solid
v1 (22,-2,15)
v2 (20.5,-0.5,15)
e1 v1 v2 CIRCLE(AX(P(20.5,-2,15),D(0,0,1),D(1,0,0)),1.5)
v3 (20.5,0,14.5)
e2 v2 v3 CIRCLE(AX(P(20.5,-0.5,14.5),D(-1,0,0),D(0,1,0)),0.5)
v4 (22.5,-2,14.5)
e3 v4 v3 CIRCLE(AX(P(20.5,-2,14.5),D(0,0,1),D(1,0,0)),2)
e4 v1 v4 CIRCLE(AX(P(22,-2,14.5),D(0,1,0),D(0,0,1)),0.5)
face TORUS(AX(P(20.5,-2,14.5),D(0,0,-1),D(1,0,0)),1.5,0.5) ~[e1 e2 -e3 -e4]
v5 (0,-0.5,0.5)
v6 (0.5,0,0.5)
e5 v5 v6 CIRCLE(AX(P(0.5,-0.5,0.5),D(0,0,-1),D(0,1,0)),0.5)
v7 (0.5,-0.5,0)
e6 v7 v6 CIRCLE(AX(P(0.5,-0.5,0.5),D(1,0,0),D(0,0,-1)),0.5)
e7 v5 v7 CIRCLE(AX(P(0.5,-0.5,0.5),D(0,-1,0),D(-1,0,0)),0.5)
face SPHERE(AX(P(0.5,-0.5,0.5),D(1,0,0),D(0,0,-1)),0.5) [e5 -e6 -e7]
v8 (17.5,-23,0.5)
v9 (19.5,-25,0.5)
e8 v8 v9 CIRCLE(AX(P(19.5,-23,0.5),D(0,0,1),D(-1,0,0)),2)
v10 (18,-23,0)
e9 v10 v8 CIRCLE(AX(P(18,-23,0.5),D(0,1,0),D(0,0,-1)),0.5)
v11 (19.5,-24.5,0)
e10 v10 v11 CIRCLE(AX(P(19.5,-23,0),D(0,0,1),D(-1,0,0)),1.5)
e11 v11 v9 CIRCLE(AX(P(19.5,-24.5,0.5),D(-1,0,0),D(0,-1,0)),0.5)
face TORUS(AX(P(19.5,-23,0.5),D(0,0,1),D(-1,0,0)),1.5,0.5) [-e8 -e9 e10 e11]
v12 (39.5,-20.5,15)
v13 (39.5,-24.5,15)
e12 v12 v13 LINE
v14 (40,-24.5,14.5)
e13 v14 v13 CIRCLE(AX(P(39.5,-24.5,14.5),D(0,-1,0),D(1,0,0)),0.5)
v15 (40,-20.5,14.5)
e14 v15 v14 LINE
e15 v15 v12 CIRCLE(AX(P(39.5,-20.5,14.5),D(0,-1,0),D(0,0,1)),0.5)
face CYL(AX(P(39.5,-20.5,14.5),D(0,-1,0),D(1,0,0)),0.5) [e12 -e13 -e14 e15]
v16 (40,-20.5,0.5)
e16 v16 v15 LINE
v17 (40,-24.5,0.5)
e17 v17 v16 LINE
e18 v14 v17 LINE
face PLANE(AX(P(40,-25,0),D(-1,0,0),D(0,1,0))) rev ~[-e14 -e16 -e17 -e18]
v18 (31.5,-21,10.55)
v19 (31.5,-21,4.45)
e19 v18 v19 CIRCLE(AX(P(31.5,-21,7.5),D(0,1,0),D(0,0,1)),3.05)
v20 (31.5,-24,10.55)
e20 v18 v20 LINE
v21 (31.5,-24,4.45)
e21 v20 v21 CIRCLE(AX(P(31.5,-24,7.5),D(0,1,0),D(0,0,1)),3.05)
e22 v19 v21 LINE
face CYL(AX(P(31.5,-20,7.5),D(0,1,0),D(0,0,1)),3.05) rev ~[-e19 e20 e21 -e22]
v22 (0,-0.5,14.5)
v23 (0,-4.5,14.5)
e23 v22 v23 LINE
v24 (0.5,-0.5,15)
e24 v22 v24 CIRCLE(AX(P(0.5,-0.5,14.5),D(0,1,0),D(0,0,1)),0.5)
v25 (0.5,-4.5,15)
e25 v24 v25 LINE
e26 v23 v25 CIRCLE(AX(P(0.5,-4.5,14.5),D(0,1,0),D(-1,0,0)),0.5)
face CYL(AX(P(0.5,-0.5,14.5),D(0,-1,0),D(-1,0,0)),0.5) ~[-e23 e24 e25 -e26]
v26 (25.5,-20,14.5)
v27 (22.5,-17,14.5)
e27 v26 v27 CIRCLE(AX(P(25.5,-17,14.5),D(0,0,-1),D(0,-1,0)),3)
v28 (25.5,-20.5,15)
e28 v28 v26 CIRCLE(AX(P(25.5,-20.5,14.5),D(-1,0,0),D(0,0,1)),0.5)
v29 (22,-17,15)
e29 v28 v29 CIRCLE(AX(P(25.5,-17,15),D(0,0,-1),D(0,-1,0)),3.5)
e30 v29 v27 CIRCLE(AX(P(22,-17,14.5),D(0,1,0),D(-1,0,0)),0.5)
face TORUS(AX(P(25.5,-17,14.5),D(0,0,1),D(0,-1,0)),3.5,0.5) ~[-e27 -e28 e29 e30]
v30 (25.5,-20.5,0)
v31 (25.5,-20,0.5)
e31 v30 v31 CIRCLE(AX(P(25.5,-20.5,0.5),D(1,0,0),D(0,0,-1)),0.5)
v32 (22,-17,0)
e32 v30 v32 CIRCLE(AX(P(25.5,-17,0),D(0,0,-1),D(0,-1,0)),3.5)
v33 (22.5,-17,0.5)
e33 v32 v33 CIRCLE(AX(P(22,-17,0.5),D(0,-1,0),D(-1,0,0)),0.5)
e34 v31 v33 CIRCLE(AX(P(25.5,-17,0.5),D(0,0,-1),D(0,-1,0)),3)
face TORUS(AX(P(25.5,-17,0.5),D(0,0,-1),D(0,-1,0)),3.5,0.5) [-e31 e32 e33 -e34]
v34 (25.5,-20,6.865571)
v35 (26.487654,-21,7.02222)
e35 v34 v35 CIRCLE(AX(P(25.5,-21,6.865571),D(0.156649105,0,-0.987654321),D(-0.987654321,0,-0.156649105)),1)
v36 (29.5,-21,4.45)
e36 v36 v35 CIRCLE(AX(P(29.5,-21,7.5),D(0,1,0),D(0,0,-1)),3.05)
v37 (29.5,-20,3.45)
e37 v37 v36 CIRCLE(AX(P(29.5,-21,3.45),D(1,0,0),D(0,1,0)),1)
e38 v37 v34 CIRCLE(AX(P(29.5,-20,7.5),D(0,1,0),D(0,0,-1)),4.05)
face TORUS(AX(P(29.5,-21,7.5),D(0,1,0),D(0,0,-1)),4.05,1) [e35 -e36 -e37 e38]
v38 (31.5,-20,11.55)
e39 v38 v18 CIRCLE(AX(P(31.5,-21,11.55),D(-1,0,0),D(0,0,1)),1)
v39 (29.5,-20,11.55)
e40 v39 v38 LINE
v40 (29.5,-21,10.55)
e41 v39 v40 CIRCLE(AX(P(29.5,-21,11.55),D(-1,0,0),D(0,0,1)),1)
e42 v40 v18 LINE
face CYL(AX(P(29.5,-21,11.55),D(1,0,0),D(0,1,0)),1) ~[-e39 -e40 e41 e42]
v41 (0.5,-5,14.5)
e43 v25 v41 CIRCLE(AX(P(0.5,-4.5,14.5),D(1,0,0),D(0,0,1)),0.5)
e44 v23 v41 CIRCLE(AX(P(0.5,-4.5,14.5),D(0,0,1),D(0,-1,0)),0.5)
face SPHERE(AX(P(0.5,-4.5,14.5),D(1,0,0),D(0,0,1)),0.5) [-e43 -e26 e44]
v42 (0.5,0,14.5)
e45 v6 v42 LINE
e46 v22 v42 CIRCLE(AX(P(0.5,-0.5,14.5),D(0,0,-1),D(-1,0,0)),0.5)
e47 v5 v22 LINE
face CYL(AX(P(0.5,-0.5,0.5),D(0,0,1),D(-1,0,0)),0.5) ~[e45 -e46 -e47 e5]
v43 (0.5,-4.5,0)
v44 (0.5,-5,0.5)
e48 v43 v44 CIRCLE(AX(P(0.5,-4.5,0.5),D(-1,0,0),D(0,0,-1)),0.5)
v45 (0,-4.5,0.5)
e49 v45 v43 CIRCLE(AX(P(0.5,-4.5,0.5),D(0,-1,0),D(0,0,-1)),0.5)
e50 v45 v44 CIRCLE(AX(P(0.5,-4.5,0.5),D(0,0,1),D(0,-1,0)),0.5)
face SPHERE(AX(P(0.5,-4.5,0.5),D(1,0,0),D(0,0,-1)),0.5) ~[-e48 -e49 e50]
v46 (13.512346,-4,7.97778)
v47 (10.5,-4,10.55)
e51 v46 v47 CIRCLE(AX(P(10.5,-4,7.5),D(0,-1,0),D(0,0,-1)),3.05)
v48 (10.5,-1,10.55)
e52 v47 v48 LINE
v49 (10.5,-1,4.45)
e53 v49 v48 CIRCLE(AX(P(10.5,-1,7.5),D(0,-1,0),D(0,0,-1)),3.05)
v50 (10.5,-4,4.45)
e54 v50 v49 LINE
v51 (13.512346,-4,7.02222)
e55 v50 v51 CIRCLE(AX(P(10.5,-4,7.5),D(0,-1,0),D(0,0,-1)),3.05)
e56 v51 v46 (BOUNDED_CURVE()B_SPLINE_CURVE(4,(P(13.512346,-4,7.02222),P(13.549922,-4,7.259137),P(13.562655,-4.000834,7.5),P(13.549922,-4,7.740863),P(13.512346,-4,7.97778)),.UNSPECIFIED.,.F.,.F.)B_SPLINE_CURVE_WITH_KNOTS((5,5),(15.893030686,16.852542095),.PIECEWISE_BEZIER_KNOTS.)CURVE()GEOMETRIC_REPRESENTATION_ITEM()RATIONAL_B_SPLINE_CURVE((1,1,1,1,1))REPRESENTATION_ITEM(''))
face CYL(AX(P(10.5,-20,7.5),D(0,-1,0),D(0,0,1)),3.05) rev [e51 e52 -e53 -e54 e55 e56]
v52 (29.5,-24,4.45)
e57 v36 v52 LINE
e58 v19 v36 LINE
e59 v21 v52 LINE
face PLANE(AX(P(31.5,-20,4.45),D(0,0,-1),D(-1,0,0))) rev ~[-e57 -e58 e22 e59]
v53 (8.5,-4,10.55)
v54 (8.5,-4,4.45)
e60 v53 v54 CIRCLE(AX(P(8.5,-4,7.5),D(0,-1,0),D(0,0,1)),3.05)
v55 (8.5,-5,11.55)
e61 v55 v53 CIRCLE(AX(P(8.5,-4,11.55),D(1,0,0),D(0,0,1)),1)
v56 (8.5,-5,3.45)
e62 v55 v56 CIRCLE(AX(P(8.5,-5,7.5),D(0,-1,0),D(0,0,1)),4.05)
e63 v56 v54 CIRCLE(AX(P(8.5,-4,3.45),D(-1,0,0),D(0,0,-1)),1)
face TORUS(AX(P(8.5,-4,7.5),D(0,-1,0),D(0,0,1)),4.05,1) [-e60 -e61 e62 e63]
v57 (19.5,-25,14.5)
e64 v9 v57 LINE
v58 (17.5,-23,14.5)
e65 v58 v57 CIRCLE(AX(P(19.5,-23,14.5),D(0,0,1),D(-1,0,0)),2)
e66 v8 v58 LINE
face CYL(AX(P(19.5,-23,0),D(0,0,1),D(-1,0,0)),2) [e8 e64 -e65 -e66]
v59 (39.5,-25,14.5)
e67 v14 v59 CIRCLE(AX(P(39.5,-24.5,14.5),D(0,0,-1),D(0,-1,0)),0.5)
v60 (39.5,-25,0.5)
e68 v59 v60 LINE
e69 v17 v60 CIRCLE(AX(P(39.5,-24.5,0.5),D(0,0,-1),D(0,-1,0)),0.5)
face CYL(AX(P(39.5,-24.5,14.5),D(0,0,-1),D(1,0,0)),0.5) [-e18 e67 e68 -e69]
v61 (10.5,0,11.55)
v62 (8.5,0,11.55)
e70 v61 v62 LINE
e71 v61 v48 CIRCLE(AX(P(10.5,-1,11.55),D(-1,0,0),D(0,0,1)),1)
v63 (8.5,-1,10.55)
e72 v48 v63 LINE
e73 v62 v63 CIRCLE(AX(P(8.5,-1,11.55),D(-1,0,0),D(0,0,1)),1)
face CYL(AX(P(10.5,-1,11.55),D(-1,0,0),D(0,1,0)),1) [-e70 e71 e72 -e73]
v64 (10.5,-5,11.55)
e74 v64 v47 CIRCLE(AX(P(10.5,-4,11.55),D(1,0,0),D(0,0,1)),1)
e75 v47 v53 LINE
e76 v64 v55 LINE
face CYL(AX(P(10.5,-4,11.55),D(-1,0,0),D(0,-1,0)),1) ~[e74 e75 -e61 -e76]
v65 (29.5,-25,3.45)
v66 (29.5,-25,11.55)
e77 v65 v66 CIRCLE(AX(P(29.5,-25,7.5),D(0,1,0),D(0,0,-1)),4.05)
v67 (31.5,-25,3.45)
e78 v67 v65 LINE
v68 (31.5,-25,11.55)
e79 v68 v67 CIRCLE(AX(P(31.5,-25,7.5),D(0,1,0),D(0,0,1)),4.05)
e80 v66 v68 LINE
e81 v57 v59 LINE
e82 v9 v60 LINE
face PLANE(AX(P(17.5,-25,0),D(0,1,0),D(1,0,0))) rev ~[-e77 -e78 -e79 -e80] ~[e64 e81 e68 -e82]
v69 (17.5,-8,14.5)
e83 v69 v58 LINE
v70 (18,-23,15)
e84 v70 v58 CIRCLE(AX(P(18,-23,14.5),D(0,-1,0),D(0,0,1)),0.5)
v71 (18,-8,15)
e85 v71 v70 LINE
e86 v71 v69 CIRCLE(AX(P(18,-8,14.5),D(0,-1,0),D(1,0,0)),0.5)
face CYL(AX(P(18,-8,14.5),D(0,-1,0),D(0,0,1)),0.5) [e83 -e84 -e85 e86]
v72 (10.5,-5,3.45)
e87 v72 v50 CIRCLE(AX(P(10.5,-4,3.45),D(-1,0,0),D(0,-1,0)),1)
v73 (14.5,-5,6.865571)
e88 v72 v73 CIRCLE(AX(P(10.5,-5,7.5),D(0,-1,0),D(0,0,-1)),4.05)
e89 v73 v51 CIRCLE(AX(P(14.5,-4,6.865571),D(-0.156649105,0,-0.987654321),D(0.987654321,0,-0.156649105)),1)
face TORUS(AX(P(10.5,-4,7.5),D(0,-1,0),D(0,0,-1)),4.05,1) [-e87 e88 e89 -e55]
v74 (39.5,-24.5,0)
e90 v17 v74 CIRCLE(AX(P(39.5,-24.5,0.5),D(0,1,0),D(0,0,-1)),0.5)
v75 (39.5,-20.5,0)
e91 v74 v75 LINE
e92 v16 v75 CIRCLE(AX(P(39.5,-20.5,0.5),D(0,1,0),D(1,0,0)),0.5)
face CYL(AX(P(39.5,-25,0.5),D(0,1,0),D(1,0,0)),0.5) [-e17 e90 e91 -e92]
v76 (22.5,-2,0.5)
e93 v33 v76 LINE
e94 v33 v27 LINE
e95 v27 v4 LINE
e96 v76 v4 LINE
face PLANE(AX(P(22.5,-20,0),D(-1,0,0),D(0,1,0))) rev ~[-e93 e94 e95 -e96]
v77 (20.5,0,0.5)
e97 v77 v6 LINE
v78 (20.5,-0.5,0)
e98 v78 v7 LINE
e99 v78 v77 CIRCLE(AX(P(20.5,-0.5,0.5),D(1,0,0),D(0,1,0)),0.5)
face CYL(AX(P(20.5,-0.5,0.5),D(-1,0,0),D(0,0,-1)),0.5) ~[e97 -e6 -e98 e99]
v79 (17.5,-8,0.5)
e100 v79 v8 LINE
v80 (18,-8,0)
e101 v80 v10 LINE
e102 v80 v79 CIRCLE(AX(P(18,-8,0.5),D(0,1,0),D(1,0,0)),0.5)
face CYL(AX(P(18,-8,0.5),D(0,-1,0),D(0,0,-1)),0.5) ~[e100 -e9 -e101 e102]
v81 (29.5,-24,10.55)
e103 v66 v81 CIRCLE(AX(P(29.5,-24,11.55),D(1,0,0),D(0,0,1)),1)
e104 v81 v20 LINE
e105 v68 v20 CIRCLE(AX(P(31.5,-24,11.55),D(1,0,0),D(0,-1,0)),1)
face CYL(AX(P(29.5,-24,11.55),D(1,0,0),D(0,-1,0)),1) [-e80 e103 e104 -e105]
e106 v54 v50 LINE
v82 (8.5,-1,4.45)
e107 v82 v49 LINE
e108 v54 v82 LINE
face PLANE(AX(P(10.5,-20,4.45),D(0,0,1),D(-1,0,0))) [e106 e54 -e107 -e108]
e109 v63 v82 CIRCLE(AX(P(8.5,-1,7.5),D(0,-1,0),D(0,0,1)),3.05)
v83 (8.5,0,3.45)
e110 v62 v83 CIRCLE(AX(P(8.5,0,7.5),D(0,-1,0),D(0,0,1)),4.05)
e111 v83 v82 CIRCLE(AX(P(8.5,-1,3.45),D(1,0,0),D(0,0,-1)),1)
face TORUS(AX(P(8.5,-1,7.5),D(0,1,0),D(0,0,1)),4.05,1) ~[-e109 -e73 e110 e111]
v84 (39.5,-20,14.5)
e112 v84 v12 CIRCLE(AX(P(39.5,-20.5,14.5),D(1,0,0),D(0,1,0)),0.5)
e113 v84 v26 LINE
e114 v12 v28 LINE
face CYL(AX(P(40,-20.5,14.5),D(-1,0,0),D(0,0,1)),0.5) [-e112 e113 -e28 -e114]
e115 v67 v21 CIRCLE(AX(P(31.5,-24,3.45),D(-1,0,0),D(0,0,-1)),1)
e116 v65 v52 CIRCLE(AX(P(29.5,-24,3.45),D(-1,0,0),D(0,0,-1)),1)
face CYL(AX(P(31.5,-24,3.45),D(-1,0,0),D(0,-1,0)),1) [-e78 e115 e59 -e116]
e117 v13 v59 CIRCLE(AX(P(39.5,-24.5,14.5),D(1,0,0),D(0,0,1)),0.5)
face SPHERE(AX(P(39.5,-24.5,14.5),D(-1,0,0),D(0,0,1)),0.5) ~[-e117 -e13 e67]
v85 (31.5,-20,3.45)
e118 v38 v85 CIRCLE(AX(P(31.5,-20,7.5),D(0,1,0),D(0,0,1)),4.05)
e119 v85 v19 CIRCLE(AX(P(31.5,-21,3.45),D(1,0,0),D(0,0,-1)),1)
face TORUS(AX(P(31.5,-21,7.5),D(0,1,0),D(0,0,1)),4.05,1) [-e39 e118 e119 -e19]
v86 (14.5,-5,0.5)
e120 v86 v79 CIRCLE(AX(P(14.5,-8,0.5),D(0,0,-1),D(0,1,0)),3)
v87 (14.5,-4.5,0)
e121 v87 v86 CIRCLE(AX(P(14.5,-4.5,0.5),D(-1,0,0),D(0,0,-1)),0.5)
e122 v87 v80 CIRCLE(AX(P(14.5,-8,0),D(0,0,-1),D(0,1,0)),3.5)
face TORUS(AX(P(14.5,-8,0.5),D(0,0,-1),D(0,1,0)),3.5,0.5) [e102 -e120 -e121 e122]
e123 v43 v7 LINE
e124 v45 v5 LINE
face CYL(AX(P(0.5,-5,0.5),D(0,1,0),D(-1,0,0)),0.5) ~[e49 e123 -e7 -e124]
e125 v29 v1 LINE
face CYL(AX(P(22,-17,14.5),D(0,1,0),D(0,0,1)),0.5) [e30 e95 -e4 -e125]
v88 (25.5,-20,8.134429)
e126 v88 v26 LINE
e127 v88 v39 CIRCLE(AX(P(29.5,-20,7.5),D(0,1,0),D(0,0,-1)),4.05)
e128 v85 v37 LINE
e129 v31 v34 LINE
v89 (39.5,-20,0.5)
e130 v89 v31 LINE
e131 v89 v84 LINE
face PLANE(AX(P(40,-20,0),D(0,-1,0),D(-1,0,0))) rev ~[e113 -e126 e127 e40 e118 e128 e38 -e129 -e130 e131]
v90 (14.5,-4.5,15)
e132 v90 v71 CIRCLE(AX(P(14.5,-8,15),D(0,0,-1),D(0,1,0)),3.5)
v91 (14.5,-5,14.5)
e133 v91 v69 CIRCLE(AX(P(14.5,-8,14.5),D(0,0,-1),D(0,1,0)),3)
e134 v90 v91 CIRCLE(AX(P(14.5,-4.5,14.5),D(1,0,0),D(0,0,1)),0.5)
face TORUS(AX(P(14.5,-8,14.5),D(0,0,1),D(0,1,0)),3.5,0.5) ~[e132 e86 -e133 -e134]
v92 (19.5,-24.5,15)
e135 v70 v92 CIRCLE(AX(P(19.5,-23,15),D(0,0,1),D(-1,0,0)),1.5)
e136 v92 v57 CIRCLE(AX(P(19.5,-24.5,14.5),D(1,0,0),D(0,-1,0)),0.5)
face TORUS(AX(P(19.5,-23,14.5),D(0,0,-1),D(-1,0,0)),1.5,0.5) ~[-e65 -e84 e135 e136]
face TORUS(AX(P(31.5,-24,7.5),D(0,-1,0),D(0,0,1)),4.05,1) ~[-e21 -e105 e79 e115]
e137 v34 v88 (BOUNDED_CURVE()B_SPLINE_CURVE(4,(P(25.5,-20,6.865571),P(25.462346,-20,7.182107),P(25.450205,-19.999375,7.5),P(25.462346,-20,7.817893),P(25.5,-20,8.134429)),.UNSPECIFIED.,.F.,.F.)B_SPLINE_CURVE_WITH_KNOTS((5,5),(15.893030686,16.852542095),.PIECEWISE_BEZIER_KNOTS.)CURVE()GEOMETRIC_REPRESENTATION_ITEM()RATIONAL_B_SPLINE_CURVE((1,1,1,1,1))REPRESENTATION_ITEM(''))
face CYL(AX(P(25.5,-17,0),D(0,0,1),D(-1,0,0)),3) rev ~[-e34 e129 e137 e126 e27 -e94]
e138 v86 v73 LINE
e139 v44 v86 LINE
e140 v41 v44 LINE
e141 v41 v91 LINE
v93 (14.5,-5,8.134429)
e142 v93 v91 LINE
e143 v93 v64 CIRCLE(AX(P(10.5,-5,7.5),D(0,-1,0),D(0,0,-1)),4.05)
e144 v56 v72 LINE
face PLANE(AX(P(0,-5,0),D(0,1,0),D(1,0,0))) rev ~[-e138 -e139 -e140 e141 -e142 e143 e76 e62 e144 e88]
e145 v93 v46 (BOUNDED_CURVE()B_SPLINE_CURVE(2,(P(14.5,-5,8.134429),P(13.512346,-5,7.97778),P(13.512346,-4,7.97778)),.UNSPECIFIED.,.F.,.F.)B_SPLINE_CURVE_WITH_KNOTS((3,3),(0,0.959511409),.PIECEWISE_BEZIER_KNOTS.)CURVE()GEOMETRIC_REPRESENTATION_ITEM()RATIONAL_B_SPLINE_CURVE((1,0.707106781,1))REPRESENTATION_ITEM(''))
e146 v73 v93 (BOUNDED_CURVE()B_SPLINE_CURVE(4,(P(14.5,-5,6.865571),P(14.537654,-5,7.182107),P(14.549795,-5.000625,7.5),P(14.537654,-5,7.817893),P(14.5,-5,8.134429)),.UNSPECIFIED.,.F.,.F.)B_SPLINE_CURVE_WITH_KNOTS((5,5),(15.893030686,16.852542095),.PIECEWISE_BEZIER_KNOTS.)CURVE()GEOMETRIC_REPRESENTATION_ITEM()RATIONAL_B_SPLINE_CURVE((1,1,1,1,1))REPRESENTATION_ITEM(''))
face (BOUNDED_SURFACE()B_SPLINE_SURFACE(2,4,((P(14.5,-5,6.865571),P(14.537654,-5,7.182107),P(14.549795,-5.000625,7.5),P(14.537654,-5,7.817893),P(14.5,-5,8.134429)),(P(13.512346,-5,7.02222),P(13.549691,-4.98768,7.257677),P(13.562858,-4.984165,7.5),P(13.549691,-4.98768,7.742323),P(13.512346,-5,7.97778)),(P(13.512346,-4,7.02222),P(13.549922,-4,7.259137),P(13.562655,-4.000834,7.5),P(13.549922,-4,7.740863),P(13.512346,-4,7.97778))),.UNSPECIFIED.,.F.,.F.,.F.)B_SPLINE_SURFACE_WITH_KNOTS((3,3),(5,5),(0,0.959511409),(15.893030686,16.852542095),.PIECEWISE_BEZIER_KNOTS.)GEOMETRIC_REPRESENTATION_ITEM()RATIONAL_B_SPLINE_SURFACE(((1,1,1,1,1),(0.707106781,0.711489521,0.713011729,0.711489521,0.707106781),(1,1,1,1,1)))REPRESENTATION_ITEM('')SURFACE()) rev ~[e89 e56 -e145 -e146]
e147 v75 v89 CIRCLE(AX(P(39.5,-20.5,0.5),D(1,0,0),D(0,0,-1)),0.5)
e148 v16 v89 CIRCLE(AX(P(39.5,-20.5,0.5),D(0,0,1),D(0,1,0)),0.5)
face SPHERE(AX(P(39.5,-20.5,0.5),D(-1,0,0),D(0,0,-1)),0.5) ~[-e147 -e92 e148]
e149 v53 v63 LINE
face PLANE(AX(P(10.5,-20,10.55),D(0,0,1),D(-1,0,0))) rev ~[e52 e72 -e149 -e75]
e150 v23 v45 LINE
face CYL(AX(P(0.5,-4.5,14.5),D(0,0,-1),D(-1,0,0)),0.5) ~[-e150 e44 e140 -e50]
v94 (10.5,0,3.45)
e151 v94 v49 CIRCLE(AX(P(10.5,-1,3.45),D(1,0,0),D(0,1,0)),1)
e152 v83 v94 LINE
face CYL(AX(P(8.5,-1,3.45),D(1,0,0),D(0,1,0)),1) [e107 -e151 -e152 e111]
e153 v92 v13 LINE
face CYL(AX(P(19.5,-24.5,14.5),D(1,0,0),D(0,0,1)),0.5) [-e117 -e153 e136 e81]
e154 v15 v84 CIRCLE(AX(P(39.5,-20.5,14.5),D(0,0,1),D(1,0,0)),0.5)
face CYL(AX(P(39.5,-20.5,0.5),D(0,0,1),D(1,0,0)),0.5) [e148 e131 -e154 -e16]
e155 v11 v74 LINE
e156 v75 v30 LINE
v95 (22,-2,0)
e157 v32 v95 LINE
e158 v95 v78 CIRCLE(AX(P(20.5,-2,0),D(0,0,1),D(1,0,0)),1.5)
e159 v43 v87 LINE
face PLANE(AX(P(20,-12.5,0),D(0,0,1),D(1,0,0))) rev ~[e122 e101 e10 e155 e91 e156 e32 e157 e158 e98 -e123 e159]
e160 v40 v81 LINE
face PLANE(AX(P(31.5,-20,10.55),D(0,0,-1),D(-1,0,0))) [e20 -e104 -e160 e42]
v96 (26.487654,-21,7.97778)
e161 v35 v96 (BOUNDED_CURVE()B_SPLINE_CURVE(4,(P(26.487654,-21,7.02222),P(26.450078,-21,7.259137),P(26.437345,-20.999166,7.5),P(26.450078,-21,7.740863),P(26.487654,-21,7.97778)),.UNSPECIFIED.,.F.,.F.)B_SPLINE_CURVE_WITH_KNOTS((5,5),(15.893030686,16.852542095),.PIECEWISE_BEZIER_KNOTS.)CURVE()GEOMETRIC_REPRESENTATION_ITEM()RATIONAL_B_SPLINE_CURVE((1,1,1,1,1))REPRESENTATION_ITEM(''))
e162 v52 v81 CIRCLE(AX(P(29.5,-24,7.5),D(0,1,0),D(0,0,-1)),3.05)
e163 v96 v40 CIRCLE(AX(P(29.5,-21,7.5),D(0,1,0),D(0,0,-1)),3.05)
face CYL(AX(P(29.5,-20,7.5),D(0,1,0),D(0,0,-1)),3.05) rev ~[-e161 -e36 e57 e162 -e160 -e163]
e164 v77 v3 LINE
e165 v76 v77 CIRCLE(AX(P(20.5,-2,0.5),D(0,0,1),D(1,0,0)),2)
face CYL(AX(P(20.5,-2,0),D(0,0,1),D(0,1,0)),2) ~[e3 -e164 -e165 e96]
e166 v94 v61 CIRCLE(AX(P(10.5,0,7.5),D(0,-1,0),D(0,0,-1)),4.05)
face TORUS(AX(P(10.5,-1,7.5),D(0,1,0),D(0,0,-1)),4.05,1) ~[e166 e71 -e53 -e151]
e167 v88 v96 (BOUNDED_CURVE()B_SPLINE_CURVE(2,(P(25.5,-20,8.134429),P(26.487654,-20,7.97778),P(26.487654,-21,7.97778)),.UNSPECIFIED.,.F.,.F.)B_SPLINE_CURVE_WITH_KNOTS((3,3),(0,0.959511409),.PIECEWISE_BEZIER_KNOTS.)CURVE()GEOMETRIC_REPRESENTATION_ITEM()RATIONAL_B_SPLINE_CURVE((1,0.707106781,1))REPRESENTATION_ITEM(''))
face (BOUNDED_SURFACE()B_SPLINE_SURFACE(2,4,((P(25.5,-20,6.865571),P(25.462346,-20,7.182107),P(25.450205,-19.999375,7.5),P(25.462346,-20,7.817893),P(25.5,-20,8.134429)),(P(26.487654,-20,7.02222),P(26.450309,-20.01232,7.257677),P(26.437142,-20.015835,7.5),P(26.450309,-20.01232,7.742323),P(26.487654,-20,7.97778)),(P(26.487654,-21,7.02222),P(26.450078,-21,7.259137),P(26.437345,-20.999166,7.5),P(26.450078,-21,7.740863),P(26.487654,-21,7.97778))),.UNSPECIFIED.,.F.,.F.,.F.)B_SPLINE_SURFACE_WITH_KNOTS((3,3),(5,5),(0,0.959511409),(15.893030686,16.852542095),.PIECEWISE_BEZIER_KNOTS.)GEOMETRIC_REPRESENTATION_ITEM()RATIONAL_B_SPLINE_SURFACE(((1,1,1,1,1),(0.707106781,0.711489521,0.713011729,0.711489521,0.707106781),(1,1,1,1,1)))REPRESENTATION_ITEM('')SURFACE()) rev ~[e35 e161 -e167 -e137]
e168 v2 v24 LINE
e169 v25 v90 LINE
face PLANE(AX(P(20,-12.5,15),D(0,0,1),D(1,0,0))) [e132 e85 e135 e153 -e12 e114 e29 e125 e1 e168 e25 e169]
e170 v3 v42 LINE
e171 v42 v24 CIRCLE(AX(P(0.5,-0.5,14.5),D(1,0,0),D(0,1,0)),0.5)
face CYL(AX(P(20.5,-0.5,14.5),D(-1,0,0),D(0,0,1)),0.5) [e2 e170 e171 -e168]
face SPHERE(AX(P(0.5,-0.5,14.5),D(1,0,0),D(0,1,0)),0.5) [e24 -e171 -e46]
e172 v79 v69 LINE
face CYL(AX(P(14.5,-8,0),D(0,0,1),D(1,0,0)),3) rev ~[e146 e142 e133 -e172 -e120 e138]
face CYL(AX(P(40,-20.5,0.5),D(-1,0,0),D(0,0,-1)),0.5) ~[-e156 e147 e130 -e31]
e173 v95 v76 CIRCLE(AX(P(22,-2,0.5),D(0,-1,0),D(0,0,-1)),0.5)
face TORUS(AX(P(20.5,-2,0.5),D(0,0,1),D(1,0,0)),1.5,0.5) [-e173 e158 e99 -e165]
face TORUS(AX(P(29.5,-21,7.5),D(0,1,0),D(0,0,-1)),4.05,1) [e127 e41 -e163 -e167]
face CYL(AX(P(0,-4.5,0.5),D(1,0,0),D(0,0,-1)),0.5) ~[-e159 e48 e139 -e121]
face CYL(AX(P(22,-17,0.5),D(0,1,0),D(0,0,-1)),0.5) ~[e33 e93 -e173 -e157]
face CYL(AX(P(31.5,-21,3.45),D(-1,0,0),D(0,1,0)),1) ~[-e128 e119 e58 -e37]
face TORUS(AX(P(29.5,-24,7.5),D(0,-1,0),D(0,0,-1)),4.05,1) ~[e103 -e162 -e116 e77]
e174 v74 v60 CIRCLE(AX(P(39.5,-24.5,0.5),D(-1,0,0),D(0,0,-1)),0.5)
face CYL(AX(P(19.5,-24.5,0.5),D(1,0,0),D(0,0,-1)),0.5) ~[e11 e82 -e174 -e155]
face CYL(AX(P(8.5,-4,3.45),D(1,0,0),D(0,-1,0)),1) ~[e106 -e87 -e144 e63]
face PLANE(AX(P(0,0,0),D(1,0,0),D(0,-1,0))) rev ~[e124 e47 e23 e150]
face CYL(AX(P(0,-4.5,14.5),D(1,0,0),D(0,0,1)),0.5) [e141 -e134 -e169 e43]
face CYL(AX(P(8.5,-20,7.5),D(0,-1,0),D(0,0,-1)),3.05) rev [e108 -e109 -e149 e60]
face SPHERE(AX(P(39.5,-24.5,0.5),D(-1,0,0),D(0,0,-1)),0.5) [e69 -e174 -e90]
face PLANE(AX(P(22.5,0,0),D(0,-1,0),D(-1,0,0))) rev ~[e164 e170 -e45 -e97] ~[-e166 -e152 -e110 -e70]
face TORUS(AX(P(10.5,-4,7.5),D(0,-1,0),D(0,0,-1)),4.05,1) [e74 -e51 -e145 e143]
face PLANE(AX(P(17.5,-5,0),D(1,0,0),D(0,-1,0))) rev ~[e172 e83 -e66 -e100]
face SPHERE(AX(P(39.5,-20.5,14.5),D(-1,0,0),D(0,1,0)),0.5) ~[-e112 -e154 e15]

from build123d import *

# Parameters (mm, degrees)
F1_DEPTH      = 15
F2_W          = 2
F2_H          = 6.1
F3_DEPTH      = 20.001
F3_DEPTH_BACK = 5.001
F4_R          = 3
F5_R          = 3
F6_R          = 2
F7_R          = 2
F8_R          = 1
F9_R          = 1
F10_R         = 1
F11_R         = 1
F12_R         = 0.5
F13_R         = 0.5
F14_R         = 0.5
F15_R         = 0.5


with BuildPart() as f1:
    # F0 (on Top) → F1 (new body)
    with BuildSketch(Plane.XY):
        Polygon((22.5, 0), (0, 0), (0, -5), (17.5, -5), (17.5, -25), (40, -25), (40, -20), (22.5, -20), align=None)
    extrude(amount=F1_DEPTH)

    # F2 (on face) → F3 (cut, two sides)
    with BuildSketch(Plane(origin=(0, -20, 0), x_dir=(-1, 0, 0), z_dir=(0, 1, 0))) as f3_sk:
        with Locations((-30.5, 7.5)):
            Rectangle(F2_W, F2_H)
        with BuildLine():
            ThreePointArc((-29.5, 4.45), (-26.45, 7.5), (-29.5, 10.55))
            Line((-29.5, 10.55), (-29.5, 4.45))
        make_face()
        with BuildLine():
            Line((-31.5, 4.45), (-31.5, 10.55))
            ThreePointArc((-31.5, 10.55), (-34.55, 7.5), (-31.5, 4.45))
        make_face()
        with BuildLine():
            ThreePointArc((-10.5, 10.55), (-13.55, 7.5), (-10.5, 4.45))
            Line((-10.5, 4.45), (-10.5, 10.55))
        make_face()
        with Locations((-9.5, 7.5)):
            Rectangle(F2_W, F2_H)
        with BuildLine():
            Line((-8.5, 10.55), (-8.5, 4.45))
            ThreePointArc((-8.5, 4.45), (-5.45, 7.5), (-8.5, 10.55))
        make_face()
    extrude(amount=F3_DEPTH, mode=Mode.SUBTRACT)
    extrude(f3_sk.sketch, amount=-F3_DEPTH_BACK, mode=Mode.SUBTRACT)

    # F4
    f4_edges = [f1.edges().sort_by_distance(p)[0] for p in [
        (22.5, -20, 7.5),
    ]]
    fillet(f4_edges, radius=F4_R)

    # F5
    f5_edges = [f1.edges().sort_by_distance(p)[0] for p in [
        (17.5, -5, 7.5),
    ]]
    fillet(f5_edges, radius=F5_R)

    # F6
    f6_edges = [f1.edges().sort_by_distance(p)[0] for p in [
        (22.5, 0, 7.5),
    ]]
    fillet(f6_edges, radius=F6_R)

    # F7
    f7_edges = [f1.edges().sort_by_distance(p)[0] for p in [
        (17.5, -25, 7.5),
    ]]
    fillet(f7_edges, radius=F7_R)

    # F8
    f8_edges = [f1.edges().sort_by_distance(p)[0] for p in [
        (5.45, 0, 7.5),
    ]]
    fillet(f8_edges, radius=F8_R)

    # F9
    f9_edges = [f1.edges().sort_by_distance(p)[0] for p in [
        (34.55, -20, 7.5),
    ]]
    fillet(f9_edges, radius=F9_R)

    # F10
    f10_edges = [f1.edges().sort_by_distance(p)[0] for p in [
        (5.45, -5, 7.5),
    ]]
    fillet(f10_edges, radius=F10_R)

    # F11
    f11_edges = [f1.edges().sort_by_distance(p)[0] for p in [
        (26.45, -25, 7.5),
    ]]
    fillet(f11_edges, radius=F11_R)

    # F12
    f12_edges = [f1.edges().sort_by_distance(p)[0] for p in [
        (10.25, 0, 15),
    ]]
    fillet(f12_edges, radius=F12_R)

    # F13
    f13_edges = [f1.edges().sort_by_distance(p)[0] for p in [
        (17.5, -15.5, 15),
    ]]
    fillet(f13_edges, radius=F13_R)

    # F14
    f14_edges = [f1.edges().sort_by_distance(p)[0] for p in [
        (10.25, 0, 0),
    ]]
    fillet(f14_edges, radius=F14_R)

    # F15
    f15_edges = [f1.edges().sort_by_distance(p)[0] for p in [
        (17.5, -15.5, 0),
        (0, 0, 7.5),
        (40, -20, 7.5),
    ]]
    fillet(f15_edges, radius=F15_R)


solid = f1.part
